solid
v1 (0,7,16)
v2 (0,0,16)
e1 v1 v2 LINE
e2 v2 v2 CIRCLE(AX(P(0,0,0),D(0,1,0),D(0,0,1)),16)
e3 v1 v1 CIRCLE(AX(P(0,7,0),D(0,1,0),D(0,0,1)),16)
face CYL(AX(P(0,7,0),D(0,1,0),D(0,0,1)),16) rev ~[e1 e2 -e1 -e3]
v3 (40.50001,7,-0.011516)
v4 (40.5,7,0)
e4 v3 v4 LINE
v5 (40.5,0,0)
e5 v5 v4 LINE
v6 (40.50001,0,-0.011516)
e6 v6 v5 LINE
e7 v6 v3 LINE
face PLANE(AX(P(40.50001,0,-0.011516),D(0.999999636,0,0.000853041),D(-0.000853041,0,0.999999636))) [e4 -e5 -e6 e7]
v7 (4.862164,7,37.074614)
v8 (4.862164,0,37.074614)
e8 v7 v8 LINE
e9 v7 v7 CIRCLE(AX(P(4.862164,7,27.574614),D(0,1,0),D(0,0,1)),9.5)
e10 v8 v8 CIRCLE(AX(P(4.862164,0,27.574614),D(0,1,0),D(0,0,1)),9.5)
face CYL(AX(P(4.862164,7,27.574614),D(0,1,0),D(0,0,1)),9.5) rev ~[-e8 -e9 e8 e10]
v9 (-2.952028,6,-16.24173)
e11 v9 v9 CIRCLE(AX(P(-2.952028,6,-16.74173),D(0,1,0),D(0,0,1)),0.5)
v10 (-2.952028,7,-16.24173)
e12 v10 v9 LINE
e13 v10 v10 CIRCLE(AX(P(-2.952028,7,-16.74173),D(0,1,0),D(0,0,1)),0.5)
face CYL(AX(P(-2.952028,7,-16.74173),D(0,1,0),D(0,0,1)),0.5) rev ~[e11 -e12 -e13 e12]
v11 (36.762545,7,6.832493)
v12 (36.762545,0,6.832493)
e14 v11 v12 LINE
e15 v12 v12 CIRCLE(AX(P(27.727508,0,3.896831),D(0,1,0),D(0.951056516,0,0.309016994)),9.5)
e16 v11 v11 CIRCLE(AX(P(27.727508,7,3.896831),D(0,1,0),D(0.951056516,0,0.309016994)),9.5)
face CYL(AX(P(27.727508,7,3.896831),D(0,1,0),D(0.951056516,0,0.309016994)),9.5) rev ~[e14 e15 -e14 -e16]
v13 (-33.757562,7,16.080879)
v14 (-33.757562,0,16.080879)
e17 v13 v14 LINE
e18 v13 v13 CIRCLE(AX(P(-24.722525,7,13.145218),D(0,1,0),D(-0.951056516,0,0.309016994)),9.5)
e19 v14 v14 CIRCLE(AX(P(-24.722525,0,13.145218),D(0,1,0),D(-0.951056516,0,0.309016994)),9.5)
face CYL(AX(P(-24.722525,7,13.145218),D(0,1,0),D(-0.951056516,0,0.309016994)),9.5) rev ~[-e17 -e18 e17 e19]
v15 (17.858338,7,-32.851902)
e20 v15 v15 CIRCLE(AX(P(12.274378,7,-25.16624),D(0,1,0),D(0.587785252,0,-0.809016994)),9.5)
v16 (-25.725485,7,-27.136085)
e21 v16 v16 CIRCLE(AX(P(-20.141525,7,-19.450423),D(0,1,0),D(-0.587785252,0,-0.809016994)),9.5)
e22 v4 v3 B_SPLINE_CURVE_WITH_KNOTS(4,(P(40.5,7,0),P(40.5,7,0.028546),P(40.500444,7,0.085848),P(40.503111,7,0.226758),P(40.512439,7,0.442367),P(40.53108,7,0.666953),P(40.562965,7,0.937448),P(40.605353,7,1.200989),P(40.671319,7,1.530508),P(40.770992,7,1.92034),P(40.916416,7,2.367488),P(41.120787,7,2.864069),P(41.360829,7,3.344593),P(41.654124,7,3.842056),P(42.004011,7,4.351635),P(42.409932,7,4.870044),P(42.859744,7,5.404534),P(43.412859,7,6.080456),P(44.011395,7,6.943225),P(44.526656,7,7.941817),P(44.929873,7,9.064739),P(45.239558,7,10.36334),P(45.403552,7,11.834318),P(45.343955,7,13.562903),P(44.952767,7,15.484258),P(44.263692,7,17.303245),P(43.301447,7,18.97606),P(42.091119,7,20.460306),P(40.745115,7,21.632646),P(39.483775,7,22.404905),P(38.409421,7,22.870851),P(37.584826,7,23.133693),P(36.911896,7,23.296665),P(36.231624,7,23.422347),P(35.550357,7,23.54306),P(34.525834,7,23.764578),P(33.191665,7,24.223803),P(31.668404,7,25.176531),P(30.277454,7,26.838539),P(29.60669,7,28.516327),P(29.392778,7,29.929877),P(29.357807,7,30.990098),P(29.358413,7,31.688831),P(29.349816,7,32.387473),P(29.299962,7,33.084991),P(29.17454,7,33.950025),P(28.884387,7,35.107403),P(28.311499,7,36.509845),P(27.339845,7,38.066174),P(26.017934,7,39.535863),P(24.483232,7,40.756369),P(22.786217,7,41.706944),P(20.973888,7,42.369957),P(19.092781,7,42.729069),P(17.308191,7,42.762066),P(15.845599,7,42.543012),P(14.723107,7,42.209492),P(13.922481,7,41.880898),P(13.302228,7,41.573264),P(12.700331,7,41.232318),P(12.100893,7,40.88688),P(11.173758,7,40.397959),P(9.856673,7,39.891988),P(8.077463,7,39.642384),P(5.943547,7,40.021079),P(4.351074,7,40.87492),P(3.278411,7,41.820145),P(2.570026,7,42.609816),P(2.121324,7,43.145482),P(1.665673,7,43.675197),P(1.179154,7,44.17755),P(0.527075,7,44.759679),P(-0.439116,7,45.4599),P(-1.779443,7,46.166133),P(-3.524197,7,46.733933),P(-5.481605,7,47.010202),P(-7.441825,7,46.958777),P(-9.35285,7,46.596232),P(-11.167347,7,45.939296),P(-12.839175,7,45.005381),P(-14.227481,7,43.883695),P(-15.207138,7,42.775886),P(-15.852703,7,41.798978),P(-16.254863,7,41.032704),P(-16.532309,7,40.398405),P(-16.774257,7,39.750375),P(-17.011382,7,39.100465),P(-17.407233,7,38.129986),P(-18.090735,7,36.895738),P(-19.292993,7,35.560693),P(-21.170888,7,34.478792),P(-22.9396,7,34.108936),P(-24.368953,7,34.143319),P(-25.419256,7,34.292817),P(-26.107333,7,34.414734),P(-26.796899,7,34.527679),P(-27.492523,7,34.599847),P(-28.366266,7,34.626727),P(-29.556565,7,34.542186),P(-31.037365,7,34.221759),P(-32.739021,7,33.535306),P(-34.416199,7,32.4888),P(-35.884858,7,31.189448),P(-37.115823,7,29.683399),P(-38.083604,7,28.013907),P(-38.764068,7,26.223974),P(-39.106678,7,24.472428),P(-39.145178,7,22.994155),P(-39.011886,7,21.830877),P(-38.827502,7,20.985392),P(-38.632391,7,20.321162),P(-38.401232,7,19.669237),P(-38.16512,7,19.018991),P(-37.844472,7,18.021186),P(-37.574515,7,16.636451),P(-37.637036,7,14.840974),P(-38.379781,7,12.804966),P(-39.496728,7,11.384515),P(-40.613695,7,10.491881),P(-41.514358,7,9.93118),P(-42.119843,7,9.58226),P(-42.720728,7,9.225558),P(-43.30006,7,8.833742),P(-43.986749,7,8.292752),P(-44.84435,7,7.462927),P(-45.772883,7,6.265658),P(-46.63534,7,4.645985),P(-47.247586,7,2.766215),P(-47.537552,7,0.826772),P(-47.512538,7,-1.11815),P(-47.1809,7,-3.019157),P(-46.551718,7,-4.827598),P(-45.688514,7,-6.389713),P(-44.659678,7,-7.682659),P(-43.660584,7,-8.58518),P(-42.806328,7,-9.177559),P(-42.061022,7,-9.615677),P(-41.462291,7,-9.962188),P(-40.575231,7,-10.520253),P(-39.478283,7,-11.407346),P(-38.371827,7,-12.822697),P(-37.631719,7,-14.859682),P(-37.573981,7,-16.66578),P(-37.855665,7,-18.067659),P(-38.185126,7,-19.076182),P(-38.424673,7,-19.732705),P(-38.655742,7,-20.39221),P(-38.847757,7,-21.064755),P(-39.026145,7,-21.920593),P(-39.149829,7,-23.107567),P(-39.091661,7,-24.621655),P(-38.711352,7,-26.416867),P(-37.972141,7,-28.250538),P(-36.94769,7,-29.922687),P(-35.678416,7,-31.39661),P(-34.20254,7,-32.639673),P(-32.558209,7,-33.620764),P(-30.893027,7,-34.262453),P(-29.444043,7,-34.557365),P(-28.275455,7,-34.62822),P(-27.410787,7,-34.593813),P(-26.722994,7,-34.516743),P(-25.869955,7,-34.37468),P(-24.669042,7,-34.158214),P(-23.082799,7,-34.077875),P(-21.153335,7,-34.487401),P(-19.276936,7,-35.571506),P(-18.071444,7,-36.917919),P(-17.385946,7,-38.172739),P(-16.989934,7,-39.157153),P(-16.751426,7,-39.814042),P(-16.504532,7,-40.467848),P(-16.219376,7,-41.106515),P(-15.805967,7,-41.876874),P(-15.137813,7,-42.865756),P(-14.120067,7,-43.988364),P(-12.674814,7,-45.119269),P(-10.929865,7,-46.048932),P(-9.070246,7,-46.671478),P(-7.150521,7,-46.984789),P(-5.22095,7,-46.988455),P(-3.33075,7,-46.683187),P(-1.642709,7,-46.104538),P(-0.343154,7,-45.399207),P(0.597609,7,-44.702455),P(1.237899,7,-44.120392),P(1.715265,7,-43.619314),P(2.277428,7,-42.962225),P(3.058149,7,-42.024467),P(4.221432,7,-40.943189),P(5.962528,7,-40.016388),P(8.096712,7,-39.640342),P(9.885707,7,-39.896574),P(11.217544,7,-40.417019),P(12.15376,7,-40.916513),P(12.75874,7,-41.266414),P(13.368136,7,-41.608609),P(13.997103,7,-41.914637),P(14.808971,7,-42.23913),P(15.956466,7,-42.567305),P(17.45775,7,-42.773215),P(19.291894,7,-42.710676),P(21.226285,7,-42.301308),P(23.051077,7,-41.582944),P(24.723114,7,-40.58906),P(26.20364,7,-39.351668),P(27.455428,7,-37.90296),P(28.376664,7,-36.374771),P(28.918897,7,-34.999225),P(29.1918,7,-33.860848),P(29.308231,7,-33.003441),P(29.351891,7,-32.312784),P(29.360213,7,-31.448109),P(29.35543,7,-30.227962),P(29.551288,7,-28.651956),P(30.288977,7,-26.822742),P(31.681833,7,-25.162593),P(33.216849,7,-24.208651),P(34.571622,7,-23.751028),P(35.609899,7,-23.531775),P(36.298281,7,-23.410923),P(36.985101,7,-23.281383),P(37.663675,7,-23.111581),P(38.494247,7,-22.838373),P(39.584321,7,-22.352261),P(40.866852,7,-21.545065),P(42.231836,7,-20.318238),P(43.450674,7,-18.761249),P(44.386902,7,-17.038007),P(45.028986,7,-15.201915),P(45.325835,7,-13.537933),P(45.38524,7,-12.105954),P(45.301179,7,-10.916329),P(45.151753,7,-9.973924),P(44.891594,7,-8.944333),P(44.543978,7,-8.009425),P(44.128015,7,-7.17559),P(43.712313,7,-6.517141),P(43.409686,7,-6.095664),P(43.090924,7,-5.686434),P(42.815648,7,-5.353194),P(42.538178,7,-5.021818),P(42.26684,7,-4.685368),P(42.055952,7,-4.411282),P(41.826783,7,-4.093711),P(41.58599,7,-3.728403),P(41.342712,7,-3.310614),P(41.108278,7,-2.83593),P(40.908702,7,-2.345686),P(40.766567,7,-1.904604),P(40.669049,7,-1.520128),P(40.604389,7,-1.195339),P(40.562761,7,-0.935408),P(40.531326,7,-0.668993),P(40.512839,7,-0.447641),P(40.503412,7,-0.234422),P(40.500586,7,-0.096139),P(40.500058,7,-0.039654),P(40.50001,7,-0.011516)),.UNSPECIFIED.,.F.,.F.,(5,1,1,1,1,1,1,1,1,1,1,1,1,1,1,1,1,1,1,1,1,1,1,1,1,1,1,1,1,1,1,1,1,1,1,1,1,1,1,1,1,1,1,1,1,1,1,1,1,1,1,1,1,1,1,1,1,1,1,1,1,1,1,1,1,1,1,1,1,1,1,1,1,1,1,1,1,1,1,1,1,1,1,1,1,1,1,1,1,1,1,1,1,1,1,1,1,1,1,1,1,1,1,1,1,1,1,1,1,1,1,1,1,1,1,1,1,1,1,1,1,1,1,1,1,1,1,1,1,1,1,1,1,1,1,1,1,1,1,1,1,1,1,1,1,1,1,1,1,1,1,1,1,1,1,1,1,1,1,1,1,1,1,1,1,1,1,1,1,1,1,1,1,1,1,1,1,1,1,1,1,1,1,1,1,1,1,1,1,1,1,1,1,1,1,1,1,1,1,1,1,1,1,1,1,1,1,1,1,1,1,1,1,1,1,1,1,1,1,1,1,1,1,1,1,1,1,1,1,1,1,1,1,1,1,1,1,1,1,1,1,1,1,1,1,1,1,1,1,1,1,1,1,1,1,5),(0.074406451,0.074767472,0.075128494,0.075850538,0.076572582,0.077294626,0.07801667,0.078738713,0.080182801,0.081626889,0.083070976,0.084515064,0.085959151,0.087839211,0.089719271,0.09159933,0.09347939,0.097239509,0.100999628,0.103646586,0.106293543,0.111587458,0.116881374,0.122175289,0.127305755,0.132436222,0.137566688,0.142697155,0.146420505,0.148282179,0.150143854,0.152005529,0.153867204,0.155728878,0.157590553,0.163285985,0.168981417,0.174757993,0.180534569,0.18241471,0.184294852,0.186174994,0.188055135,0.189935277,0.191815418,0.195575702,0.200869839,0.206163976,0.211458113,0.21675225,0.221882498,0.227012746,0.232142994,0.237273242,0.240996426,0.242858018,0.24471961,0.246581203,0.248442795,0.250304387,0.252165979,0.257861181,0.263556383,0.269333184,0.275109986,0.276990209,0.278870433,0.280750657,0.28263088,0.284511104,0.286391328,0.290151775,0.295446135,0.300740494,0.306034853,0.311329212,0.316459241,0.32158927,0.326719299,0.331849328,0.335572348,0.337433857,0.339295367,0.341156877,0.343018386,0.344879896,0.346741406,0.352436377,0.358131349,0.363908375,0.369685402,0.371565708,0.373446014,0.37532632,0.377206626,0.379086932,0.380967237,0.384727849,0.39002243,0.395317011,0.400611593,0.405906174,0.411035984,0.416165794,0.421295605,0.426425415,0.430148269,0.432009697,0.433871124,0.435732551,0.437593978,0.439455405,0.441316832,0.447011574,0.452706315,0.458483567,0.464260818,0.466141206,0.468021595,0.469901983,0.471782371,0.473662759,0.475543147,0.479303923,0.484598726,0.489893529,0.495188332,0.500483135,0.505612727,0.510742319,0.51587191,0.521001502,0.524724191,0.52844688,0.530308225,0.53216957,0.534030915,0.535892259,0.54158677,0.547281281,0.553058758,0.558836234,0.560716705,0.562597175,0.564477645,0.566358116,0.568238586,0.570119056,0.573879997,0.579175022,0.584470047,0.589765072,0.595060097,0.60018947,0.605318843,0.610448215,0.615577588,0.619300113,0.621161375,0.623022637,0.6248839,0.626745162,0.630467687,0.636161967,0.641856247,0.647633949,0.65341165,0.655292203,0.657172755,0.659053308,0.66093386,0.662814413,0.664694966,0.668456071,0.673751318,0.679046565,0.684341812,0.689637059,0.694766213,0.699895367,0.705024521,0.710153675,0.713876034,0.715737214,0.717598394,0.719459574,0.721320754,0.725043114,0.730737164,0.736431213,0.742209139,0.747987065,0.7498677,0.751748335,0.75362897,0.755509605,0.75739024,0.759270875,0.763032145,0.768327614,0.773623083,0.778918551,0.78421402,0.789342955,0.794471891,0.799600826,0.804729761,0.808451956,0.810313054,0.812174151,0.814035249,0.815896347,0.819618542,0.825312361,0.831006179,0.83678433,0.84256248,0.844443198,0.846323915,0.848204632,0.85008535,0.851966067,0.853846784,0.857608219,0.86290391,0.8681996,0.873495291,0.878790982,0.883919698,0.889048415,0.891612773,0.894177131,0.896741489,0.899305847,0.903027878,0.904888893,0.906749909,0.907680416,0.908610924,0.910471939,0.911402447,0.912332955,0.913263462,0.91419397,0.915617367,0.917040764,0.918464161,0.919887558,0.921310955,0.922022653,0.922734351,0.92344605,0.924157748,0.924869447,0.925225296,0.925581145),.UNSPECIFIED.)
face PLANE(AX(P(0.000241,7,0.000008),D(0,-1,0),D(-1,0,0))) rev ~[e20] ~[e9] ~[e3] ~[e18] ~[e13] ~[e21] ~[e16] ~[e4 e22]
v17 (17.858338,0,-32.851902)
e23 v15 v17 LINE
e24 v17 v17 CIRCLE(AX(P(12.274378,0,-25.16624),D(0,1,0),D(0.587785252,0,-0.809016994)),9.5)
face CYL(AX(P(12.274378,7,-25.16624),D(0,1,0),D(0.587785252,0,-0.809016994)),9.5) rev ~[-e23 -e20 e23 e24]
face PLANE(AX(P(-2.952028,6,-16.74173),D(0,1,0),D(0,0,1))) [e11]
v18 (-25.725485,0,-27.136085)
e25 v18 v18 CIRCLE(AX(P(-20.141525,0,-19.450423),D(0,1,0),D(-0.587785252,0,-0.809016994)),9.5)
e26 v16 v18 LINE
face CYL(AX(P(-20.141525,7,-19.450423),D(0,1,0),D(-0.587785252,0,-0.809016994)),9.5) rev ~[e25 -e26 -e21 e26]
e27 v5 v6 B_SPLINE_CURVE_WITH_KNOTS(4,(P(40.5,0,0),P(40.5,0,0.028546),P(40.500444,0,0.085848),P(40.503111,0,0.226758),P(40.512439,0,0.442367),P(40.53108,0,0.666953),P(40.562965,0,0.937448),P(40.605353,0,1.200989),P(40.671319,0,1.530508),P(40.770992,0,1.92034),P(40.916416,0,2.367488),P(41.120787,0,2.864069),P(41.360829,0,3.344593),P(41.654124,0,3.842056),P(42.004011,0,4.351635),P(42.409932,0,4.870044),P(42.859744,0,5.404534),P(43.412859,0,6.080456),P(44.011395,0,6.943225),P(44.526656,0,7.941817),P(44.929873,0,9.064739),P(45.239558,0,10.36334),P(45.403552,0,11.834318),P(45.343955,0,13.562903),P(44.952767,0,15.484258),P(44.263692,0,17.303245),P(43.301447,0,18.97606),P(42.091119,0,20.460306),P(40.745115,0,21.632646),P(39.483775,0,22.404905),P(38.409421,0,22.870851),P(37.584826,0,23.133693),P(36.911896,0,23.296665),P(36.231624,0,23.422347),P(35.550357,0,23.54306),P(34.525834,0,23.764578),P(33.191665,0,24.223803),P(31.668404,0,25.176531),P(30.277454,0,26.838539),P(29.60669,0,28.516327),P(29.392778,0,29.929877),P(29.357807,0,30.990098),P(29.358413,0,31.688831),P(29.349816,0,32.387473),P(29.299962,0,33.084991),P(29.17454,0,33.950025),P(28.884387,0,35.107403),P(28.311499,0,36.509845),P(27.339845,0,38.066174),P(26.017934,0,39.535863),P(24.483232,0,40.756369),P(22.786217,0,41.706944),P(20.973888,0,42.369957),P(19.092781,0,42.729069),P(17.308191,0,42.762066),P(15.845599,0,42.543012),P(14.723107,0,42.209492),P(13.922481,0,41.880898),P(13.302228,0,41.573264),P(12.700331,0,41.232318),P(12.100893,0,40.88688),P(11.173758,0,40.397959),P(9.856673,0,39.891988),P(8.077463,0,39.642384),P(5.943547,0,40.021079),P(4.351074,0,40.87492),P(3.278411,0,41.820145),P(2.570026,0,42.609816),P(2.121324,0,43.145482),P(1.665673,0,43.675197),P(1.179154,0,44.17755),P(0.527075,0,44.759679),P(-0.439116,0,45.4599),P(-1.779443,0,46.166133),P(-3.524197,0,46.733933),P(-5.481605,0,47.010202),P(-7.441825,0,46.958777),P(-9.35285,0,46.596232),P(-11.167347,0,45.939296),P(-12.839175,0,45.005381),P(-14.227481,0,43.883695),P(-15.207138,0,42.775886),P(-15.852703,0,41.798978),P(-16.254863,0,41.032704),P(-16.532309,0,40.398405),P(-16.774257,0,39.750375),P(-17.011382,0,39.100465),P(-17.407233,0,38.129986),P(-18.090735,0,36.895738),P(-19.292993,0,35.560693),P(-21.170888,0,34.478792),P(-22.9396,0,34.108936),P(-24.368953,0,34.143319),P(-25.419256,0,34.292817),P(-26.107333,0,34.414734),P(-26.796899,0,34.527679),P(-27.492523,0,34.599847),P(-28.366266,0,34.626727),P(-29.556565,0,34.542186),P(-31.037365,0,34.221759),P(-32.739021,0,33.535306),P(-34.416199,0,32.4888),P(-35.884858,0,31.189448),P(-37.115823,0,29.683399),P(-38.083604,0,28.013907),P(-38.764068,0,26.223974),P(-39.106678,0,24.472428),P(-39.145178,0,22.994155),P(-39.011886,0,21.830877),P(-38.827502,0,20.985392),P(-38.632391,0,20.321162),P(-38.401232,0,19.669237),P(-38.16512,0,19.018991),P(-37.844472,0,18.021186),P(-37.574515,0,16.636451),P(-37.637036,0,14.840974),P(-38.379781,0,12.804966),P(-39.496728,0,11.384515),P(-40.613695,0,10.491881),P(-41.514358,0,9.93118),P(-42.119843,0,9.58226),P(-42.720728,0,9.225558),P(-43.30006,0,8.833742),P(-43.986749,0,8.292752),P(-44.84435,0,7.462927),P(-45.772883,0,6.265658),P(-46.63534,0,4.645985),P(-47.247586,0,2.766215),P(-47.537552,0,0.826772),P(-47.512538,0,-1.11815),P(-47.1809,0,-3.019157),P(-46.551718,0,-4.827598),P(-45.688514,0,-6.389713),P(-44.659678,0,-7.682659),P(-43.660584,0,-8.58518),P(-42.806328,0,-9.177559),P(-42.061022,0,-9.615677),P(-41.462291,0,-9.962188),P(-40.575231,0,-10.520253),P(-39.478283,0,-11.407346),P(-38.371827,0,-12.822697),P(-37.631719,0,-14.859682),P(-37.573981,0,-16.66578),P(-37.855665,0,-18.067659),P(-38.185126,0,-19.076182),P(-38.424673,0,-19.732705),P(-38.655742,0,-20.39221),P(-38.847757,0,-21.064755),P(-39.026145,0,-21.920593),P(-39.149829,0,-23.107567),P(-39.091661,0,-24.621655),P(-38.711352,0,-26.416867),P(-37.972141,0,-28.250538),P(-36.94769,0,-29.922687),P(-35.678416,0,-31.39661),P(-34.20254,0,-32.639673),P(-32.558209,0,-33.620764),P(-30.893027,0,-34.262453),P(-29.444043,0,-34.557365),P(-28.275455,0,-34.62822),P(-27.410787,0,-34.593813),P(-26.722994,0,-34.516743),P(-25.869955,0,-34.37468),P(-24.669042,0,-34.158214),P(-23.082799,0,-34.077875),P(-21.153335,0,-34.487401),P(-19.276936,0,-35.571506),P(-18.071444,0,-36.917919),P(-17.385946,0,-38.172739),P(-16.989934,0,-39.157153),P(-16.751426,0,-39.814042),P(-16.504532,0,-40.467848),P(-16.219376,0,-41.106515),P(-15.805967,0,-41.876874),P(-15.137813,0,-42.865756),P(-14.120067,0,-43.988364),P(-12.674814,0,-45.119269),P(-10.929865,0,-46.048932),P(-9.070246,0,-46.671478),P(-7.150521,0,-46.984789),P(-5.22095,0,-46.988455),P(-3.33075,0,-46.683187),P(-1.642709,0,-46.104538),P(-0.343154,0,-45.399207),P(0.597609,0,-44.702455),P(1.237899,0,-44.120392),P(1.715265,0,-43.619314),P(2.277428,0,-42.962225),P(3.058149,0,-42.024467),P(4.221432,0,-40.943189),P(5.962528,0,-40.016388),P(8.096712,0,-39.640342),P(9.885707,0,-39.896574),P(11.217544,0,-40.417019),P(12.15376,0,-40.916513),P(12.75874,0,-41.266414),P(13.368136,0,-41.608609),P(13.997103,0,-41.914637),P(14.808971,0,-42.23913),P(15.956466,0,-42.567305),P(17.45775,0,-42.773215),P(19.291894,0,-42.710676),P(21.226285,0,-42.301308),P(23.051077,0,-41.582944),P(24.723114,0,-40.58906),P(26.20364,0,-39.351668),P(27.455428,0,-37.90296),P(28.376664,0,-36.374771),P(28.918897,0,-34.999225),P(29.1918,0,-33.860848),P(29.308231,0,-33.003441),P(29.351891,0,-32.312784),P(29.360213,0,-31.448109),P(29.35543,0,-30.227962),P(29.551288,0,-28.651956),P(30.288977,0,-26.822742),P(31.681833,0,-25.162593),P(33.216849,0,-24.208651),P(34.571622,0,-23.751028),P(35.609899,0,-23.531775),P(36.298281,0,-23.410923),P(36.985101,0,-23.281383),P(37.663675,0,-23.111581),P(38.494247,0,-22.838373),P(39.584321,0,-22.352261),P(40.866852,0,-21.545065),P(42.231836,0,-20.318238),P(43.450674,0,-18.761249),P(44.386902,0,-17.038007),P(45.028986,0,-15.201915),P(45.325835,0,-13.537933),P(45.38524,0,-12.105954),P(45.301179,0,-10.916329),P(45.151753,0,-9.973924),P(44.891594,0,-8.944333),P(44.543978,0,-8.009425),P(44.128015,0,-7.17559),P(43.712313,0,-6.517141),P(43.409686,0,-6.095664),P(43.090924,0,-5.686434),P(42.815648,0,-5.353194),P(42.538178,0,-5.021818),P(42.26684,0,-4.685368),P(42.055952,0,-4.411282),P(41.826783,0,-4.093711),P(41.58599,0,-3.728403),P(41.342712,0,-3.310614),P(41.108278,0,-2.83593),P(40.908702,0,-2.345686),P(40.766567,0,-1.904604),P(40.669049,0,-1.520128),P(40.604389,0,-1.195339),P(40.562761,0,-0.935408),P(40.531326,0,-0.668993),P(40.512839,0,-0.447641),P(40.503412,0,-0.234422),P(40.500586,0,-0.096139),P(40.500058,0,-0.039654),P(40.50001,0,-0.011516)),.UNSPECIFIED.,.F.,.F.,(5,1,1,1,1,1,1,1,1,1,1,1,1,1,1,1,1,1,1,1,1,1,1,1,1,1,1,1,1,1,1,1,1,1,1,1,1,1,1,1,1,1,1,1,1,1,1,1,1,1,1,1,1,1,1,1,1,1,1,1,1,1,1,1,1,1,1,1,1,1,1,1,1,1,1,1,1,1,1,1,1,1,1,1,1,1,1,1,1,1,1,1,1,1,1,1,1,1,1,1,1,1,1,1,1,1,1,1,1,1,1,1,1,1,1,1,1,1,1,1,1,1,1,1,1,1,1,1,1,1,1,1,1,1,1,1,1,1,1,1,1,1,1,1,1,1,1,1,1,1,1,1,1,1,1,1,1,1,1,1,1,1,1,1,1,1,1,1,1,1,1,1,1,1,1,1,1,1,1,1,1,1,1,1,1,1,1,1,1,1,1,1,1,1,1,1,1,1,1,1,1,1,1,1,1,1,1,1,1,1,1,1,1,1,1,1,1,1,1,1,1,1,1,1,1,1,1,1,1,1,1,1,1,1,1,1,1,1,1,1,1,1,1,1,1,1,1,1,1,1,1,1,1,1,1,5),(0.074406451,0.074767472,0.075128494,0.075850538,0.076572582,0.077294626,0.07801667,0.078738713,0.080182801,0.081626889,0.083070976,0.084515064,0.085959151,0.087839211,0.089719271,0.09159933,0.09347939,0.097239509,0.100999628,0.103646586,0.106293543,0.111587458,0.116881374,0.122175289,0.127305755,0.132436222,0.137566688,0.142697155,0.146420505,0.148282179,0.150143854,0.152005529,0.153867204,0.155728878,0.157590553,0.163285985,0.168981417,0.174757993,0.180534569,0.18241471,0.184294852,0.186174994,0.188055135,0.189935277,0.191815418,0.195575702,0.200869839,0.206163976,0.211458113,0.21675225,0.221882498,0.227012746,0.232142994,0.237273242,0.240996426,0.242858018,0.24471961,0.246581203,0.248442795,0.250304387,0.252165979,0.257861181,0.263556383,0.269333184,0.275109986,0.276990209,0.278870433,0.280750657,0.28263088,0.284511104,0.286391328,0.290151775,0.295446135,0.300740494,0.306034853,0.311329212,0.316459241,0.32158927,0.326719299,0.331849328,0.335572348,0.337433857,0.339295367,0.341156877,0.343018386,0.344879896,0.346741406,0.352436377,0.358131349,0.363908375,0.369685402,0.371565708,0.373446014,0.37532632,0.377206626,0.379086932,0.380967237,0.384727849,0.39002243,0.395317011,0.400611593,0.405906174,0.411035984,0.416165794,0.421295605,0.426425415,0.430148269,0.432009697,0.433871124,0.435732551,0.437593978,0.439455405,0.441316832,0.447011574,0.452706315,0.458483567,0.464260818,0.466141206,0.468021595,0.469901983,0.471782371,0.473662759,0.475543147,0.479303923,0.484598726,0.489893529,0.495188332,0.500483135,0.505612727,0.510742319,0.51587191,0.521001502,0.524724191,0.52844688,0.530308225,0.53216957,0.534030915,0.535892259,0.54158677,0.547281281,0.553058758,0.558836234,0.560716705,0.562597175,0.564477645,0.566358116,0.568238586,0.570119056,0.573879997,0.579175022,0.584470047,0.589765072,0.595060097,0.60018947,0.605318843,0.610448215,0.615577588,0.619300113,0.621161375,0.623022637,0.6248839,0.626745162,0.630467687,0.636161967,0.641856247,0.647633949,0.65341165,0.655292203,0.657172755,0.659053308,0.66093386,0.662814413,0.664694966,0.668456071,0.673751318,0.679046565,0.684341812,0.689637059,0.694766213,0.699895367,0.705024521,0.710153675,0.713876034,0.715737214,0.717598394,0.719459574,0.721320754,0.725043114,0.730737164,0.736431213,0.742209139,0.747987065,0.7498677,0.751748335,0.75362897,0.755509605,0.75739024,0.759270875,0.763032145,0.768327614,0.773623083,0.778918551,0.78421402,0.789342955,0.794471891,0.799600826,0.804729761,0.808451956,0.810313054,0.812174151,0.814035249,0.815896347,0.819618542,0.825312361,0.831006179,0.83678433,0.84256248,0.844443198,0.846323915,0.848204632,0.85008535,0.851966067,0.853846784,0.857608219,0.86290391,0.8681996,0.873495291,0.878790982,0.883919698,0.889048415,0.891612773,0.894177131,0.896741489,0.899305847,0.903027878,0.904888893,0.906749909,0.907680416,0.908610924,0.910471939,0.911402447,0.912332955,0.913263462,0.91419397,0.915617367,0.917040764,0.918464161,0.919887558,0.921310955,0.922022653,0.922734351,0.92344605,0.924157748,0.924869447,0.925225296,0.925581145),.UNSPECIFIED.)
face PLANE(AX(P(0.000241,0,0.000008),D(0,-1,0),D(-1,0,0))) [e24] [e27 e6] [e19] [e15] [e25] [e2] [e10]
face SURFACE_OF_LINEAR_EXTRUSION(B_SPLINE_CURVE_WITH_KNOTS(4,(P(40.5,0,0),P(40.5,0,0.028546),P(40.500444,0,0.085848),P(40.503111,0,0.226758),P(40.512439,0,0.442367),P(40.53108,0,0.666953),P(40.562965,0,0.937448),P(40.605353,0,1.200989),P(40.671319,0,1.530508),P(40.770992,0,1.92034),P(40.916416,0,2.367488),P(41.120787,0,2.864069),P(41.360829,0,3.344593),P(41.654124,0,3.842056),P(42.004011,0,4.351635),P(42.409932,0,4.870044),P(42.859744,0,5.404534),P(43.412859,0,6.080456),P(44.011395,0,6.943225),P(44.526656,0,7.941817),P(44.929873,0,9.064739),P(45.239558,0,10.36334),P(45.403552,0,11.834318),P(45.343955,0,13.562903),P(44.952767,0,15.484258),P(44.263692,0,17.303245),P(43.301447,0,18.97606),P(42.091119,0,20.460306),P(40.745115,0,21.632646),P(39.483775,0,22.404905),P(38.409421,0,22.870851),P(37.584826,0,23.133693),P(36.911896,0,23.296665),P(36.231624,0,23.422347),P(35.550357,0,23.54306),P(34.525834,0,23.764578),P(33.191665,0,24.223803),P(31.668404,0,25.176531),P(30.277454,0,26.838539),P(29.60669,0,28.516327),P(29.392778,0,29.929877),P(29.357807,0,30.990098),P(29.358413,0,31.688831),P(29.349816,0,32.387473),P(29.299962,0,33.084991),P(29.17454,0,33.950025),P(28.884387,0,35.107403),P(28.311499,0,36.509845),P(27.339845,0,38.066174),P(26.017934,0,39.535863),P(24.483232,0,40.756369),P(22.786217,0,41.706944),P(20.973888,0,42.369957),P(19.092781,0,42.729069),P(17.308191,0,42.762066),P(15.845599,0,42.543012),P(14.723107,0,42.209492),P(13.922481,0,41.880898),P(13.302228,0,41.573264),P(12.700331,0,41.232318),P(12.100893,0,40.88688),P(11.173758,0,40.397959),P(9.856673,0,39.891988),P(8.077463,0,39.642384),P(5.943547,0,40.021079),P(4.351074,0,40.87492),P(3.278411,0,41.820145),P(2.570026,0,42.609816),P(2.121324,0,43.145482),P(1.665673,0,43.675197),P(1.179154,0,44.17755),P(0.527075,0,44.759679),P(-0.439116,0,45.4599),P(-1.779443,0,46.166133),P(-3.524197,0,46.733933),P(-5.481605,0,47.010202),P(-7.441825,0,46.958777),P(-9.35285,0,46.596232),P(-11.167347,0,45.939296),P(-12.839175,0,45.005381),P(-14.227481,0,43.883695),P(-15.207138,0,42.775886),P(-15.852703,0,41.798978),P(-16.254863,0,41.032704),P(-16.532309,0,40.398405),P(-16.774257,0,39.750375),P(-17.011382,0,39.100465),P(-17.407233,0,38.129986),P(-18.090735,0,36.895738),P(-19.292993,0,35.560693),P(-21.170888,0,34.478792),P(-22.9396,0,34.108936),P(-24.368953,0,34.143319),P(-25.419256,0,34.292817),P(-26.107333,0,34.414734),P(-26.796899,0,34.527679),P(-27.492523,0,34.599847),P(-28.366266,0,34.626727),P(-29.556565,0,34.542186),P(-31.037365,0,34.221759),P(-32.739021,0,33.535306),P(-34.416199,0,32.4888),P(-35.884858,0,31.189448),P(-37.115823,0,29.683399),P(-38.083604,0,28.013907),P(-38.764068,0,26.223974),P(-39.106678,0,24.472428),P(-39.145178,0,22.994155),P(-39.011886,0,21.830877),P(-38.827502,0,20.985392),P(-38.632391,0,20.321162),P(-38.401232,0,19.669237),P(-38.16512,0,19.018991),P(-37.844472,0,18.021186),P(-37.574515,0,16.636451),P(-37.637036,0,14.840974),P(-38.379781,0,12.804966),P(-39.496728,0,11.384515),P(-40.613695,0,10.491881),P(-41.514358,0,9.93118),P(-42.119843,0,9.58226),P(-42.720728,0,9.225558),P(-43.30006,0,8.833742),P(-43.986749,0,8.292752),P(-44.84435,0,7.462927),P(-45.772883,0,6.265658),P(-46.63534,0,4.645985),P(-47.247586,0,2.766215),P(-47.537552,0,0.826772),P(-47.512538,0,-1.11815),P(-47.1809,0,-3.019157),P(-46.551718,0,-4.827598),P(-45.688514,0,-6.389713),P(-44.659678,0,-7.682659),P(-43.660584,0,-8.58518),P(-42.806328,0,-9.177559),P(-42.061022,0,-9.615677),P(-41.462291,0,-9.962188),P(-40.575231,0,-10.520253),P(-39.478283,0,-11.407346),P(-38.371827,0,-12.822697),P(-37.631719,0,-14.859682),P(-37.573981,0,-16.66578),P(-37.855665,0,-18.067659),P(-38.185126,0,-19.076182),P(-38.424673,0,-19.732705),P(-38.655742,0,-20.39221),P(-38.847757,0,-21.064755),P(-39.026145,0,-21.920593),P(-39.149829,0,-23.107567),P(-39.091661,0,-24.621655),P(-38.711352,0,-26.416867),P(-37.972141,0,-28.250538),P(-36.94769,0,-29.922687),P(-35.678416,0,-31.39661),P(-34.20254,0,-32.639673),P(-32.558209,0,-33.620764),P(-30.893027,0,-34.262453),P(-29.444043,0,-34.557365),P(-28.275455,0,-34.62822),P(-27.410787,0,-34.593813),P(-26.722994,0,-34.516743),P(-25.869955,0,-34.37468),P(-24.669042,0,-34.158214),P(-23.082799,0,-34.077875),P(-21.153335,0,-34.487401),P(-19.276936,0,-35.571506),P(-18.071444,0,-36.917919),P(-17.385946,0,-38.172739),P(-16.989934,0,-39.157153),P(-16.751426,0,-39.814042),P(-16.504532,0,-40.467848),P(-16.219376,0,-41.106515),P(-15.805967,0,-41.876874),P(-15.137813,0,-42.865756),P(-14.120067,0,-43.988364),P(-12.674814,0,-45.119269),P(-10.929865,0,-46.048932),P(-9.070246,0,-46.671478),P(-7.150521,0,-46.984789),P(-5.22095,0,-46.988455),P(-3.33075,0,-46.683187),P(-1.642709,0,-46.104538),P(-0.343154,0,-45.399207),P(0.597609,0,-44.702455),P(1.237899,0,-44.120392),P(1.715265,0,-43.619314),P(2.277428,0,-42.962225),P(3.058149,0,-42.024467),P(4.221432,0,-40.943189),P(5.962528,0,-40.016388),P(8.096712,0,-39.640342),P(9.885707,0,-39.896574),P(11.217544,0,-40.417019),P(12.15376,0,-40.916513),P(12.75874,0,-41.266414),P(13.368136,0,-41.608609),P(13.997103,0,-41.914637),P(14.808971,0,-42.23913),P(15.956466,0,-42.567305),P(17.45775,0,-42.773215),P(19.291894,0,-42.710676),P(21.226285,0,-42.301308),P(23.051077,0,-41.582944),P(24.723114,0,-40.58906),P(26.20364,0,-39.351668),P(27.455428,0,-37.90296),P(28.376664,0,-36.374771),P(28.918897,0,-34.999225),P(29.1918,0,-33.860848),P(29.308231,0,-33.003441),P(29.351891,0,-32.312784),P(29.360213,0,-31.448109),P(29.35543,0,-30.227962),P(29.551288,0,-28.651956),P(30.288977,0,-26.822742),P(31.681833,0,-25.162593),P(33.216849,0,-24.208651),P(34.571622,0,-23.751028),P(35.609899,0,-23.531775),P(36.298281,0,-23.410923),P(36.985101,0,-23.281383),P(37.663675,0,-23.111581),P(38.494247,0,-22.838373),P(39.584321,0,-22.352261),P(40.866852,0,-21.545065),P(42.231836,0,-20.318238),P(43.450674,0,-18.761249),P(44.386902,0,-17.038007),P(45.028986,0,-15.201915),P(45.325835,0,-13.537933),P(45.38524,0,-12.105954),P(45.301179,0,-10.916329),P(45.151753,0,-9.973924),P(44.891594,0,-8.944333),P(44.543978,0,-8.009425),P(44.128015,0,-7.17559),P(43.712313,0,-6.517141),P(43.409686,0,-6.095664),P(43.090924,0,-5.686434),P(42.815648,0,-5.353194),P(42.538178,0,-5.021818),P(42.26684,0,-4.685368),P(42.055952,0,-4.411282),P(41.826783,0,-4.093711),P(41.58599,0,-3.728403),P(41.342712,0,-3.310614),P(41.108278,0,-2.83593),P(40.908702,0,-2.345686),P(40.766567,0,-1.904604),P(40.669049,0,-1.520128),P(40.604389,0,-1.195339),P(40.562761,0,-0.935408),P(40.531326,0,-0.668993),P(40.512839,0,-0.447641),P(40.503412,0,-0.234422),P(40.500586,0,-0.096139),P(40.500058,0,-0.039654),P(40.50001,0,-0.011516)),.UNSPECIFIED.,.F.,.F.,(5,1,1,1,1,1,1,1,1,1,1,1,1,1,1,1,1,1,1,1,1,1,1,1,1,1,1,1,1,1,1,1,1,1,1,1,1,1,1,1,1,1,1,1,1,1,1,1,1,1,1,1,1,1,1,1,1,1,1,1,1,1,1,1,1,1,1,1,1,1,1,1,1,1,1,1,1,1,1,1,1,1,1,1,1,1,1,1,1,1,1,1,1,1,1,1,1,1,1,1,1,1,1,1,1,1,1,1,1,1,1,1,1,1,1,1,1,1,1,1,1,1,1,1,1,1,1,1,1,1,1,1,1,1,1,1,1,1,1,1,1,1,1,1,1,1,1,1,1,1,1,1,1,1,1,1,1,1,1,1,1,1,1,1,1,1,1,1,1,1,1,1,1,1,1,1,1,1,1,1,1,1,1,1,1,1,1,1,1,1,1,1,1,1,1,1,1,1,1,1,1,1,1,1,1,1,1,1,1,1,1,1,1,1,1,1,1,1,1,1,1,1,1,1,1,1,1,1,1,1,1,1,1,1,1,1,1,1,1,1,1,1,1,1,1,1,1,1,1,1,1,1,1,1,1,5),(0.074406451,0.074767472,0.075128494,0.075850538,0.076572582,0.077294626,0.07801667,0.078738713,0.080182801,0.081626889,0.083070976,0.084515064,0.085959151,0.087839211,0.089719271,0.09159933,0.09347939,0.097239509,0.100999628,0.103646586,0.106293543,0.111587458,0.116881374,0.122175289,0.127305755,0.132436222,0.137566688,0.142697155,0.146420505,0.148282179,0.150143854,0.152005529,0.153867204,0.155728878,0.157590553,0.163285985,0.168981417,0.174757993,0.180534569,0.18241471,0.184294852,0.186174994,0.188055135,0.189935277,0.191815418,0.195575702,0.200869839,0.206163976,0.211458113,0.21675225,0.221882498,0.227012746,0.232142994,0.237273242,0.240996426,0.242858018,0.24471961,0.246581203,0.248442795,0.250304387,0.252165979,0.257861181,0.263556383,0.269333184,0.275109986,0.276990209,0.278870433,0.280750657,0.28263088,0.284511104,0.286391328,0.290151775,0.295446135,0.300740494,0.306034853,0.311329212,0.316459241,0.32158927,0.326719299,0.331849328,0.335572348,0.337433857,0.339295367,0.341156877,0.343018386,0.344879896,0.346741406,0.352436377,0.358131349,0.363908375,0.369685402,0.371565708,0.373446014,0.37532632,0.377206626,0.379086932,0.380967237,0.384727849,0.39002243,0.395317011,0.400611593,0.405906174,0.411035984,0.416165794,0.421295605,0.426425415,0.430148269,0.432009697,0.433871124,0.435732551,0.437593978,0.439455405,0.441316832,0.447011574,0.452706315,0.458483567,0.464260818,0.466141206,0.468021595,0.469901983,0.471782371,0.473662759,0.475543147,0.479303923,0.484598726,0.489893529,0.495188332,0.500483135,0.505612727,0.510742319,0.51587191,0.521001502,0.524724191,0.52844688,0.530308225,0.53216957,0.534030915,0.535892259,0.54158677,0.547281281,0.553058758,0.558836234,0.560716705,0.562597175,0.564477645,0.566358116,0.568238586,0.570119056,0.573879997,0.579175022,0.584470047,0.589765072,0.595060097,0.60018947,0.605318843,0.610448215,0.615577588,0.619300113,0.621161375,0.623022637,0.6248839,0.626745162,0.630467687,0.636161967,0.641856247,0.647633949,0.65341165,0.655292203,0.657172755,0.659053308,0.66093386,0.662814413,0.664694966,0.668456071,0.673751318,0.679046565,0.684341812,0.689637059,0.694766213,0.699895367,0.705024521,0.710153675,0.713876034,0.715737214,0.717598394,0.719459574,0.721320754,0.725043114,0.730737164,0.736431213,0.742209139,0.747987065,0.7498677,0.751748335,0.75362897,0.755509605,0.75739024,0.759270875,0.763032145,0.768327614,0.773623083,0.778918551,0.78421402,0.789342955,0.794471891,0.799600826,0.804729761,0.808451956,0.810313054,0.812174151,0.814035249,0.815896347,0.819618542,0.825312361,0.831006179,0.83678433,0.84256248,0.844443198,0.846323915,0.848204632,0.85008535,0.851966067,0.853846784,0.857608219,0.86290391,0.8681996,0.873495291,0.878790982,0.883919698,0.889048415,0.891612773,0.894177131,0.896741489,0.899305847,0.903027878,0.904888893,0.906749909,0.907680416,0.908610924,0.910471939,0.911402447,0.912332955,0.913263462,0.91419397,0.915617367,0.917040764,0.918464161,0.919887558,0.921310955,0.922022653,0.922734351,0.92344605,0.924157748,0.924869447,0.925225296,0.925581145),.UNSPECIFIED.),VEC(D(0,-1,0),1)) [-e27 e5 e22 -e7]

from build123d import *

# Parameters (mm, degrees)
BOSS_EXTRUDE3_DEPTH = 7
SKETCH2_R           = 16
CUT_EXTRUDE1_DEPTH  = 68.161043744
SKETCH3_R           = 0.5
CUT_EXTRUDE2_DEPTH  = 1
SKETCH4_R           = 9.5
CUT_EXTRUDE4_DEPTH  = 68.161043744
CIRPATTERN2_COUNT   = 5


with BuildPart() as part:
    # Sketch1 → Boss-Extrude3 (new body)
    with BuildSketch(Plane(origin=(0, 0, 0), x_dir=(1, 0, 0), z_dir=(0, 1, 0))):
        with BuildLine():
            add(Edge.make_bspline(
                [(40.5, 0), (40.5, -0.028546262), (40.500444384, -0.085847505), (40.503110675, -0.226757994), (40.512439134, -0.442367355), (40.531079589, -0.666953273), (40.562964523, -0.93744797), (40.605352949, -1.20098898), (40.671319498, -1.530508494), (40.770992467, -1.920340014), (40.916415736, -2.367488249), (41.120787297, -2.86406858), (41.360828638, -3.344593408), (41.654124201, -3.842056085), (42.004011353, -4.351634881), (42.409931661, -4.87004421), (42.859744386, -5.404533646), (43.412858525, -6.080456207), (44.011394999, -6.943224647), (44.526656093, -7.941817117), (44.929873097, -9.064739057), (45.239557641, -10.363340474), (45.403552015, -11.834318039), (45.343955448, -13.562903017), (44.952767157, -15.484258179), (44.263691832, -17.30324519), (43.301446593, -18.976060486), (42.091119135, -20.460306087), (40.745114847, -21.632645784), (39.4837748, -22.404905161), (38.409421356, -22.87085064), (37.58482604, -23.133693034), (36.911896387, -23.296665171), (36.231624071, -23.422347011), (35.550357106, -23.543060285), (34.525833701, -23.764578493), (33.191664696, -24.223802594), (31.668403783, -25.17653147), (30.277453911, -26.838539011), (29.606690168, -28.516326966), (29.392777642, -29.929876757), (29.357806824, -30.990097872), (29.358413065, -31.688831297), (29.349816232, -32.38747332), (29.299961965, -33.084991258), (29.174540456, -33.950025236), (28.884387048, -35.107402938), (28.311499455, -36.509844746), (27.339845304, -38.066173972), (26.017933712, -39.535863134), (24.483232188, -40.756368749), (22.786217155, -41.706943572), (20.973888334, -42.369957392), (19.092781226, -42.729068837), (17.308191097, -42.762066376), (15.845599211, -42.543012056), (14.723107044, -42.209492119), (13.922481374, -41.880898383), (13.302227917, -41.573264045), (12.700331173, -41.232317813), (12.100892811, -40.886879519), (11.173757722, -40.397959474), (9.856673355, -39.891987769), (8.077462722, -39.642383823), (5.943546794, -40.021078588), (4.35107352, -40.874919681), (3.278410562, -41.82014524), (2.570026037, -42.609815625), (2.121324054, -43.14548158), (1.665672599, -43.675196771), (1.17915445, -44.177550209), (0.527074936, -44.759678615), (-0.439116024, -45.459900339), (-1.779443431, -46.16613343), (-3.524197134, -46.733933196), (-5.481604637, -47.01020213), (-7.441825317, -46.958776742), (-9.352850307, -46.596232476), (-11.167346953, -45.939296019), (-12.839175378, -45.005380711), (-14.227481209, -43.883694812), (-15.207137934, -42.775886443), (-15.8527027, -41.798978164), (-16.254862767, -41.032703987), (-16.532309197, -40.398405281), (-16.774256512, -39.750374585), (-17.011382172, -39.100464804), (-17.407232747, -38.129986286), (-18.090734887, -36.895738292), (-19.292992813, -35.560693356), (-21.170888335, -34.478791677), (-22.939600319, -34.108936434), (-24.368953497, -34.143319399), (-25.419255652, -34.292817002), (-26.107333056, -34.414733809), (-26.796899433, -34.527678603), (-27.492523445, -34.599847189), (-28.366265702, -34.626726892), (-29.556564689, -34.542186472), (-31.037364726, -34.221759337), (-32.739020732, -33.535305745), (-34.416198682, -32.488799683), (-35.884858276, -31.18944768), (-37.115823469, -29.683399253), (-38.083603628, -28.013906623), (-38.764068432, -26.223973991), (-39.106677701, -24.472428153), (-39.145177857, -22.994155066), (-39.011885669, -21.830876801), (-38.827502006, -20.985391696), (-38.632390711, -20.321161986), (-38.401231573, -19.669237126), (-38.16512026, -19.018990926), (-37.844472406, -18.021185774), (-37.574515437, -16.63645071), (-37.637035998, -14.840974018), (-38.379780688, -12.804965911), (-39.496728402, -11.38451469), (-40.613694939, -10.491881423), (-41.514358285, -9.93118044), (-42.119843128, -9.582259903), (-42.720728116, -9.225557564), (-43.300060014, -8.833742323), (-43.986749018, -8.292751926), (-44.844349958, -7.462927163), (-45.772882603, -6.265657891), (-46.635339888, -4.645985087), (-47.247585718, -2.766214576), (-47.53755206, -0.826771723), (-47.512538074, 1.118150057), (-47.180899933, 3.019157212), (-46.551717848, 4.82759835), (-45.688513543, 6.389712558), (-44.659677617, 7.682658763), (-43.660583675, 8.585180175), (-42.80632761, 9.177558511), (-42.061022055, 9.615676605), (-41.462290621, 9.962188423), (-40.575230987, 10.520252942), (-39.478283352, 11.407345976), (-38.371827395, 12.822697306), (-37.631719247, 14.859682224), (-37.573981258, 16.66577966), (-37.855665099, 18.067658738), (-38.185125935, 19.076182338), (-38.424672753, 19.732705207), (-38.655741816, 20.392209654), (-38.84775704, 21.064754755), (-39.026145406, 21.920593216), (-39.149828944, 23.107566863), (-39.09166123, 24.621654983), (-38.711352212, 26.416866751), (-37.972140765, 28.250537991), (-36.947690329, 29.922687192), (-35.678415605, 31.396609852), (-34.202539584, 32.639673184), (-32.558208903, 33.620763916), (-30.893027292, 34.262453372), (-29.444043299, 34.557364541), (-28.275455034, 34.628220061), (-27.410787202, 34.59381281), (-26.72299369, 34.51674286), (-25.869954657, 34.37468004), (-24.669041681, 34.158214449), (-23.08279894, 34.077875033), (-21.153335322, 34.487400981), (-19.276935597, 35.57150577), (-18.071444448, 36.917919199), (-17.385945872, 38.172738501), (-16.989933536, 39.157152765), (-16.751426332, 39.814042019), (-16.504532297, 40.467847806), (-16.219376456, 41.106515426), (-15.805967264, 41.876873687), (-15.137812701, 42.865756434), (-14.120067415, 43.988363872), (-12.674813604, 45.119268791), (-10.929865296, 46.048932451), (-9.07024603, 46.671478061), (-7.150520531, 46.984788652), (-5.22094989, 46.988455169), (-3.330749558, 46.683186857), (-1.642708761, 46.104538007), (-0.343153942, 45.399206832), (0.597608896, 44.702454803), (1.237898732, 44.120391681), (1.715264854, 43.619314217), (2.277428439, 42.962224797), (3.05814935, 42.024466828), (4.221431586, 40.943188501), (5.962527814, 40.016387543), (8.096711616, 39.640341864), (9.8857068, 39.896574295), (11.217544346, 40.417019048), (12.153760139, 40.916512679), (12.758740403, 41.266413668), (13.368136186, 41.608608887), (13.997103, 41.914636892), (14.808971415, 42.239129975), (15.956466314, 42.567304505), (17.457750275, 42.77321507), (19.291893972, 42.710676226), (21.226285158, 42.301308336), (23.051077454, 41.582944449), (24.72311385, 40.58906004), (26.203639767, 39.351667841), (27.455428384, 37.902959871), (28.376663871, 36.374770576), (28.918896787, 34.999224905), (29.191799656, 33.860848331), (29.308231189, 33.003441465), (29.35189076, 32.312783633), (29.360213444, 31.448109042), (29.355429648, 30.227962288), (29.55128759, 28.651955964), (30.288977261, 26.822741751), (31.681833263, 25.162592811), (33.216849137, 24.208650605), (34.571622102, 23.751028062), (35.609898879, 23.531775073), (36.298280537, 23.410922873), (36.985100939, 23.281383187), (37.663674553, 23.111581309), (38.494246664, 22.838372965), (39.584321034, 22.352260536), (40.866852273, 21.545065261), (42.231836487, 20.318237829), (43.450673844, 18.761249102), (44.386902236, 17.038007017), (45.028986087, 15.201914615), (45.325834952, 13.537932906), (45.38524027, 12.105954443), (45.301179192, 10.916329332), (45.151752518, 9.973924387), (44.891593523, 8.9443326), (44.543978069, 8.009424638), (44.128014858, 7.175589871), (43.712312671, 6.517140841), (43.409686217, 6.095664039), (43.090923809, 5.686434175), (42.815647705, 5.353194457), (42.538178372, 5.021818387), (42.266840334, 4.685368008), (42.055952198, 4.411281643), (41.826782884, 4.093710697), (41.585989593, 3.728402516), (41.342712158, 3.310613657), (41.108278103, 2.835929575), (40.908702201, 2.34568584), (40.766567017, 1.904604137), (40.669049377, 1.520127878), (40.604388983, 1.195338878), (40.562761071, 0.935408444), (40.531326441, 0.668993371), (40.512839165, 0.447641437), (40.503412283, 0.23442177), (40.500585942, 0.096138553), (40.50005783, 0.039653659), (40.500009824, 0.011516445)],
                knots=[0.074406451, 0.074406451, 0.074406451, 0.074406451, 0.074406451, 0.074767472, 0.075128494, 0.075850538, 0.076572582, 0.077294626, 0.07801667, 0.078738713, 0.080182801, 0.081626889, 0.083070976, 0.084515064, 0.085959151, 0.087839211, 0.089719271, 0.09159933, 0.09347939, 0.097239509, 0.100999628, 0.103646586, 0.106293543, 0.111587458, 0.116881374, 0.122175289, 0.127305755, 0.132436222, 0.137566688, 0.142697155, 0.146420505, 0.148282179, 0.150143854, 0.152005529, 0.153867204, 0.155728878, 0.157590553, 0.163285985, 0.168981417, 0.174757993, 0.180534569, 0.18241471, 0.184294852, 0.186174994, 0.188055135, 0.189935277, 0.191815418, 0.195575702, 0.200869839, 0.206163976, 0.211458113, 0.21675225, 0.221882498, 0.227012746, 0.232142994, 0.237273242, 0.240996426, 0.242858018, 0.24471961, 0.246581203, 0.248442795, 0.250304387, 0.252165979, 0.257861181, 0.263556383, 0.269333184, 0.275109986, 0.276990209, 0.278870433, 0.280750657, 0.28263088, 0.284511104, 0.286391328, 0.290151775, 0.295446135, 0.300740494, 0.306034853, 0.311329212, 0.316459241, 0.32158927, 0.326719299, 0.331849328, 0.335572348, 0.337433857, 0.339295367, 0.341156877, 0.343018386, 0.344879896, 0.346741406, 0.352436377, 0.358131349, 0.363908375, 0.369685402, 0.371565708, 0.373446014, 0.37532632, 0.377206626, 0.379086932, 0.380967237, 0.384727849, 0.39002243, 0.395317011, 0.400611593, 0.405906174, 0.411035984, 0.416165794, 0.421295605, 0.426425415, 0.430148269, 0.432009697, 0.433871124, 0.435732551, 0.437593978, 0.439455405, 0.441316832, 0.447011574, 0.452706315, 0.458483567, 0.464260818, 0.466141206, 0.468021595, 0.469901983, 0.471782371, 0.473662759, 0.475543147, 0.479303923, 0.484598726, 0.489893529, 0.495188332, 0.500483135, 0.505612727, 0.510742319, 0.51587191, 0.521001502, 0.524724191, 0.52844688, 0.530308225, 0.53216957, 0.534030915, 0.535892259, 0.54158677, 0.547281281, 0.553058758, 0.558836234, 0.560716705, 0.562597175, 0.564477645, 0.566358116, 0.568238586, 0.570119056, 0.573879997, 0.579175022, 0.584470047, 0.589765072, 0.595060097, 0.60018947, 0.605318843, 0.610448215, 0.615577588, 0.619300113, 0.621161375, 0.623022637, 0.6248839, 0.626745162, 0.630467687, 0.636161967, 0.641856247, 0.647633949, 0.65341165, 0.655292203, 0.657172755, 0.659053308, 0.66093386, 0.662814413, 0.664694966, 0.668456071, 0.673751318, 0.679046565, 0.684341812, 0.689637059, 0.694766213, 0.699895367, 0.705024521, 0.710153675, 0.713876034, 0.715737214, 0.717598394, 0.719459574, 0.721320754, 0.725043114, 0.730737164, 0.736431213, 0.742209139, 0.747987065, 0.7498677, 0.751748335, 0.75362897, 0.755509605, 0.75739024, 0.759270875, 0.763032145, 0.768327614, 0.773623083, 0.778918551, 0.78421402, 0.789342955, 0.794471891, 0.799600826, 0.804729761, 0.808451956, 0.810313054, 0.812174151, 0.814035249, 0.815896347, 0.819618542, 0.825312361, 0.831006179, 0.83678433, 0.84256248, 0.844443198, 0.846323915, 0.848204632, 0.85008535, 0.851966067, 0.853846784, 0.857608219, 0.86290391, 0.8681996, 0.873495291, 0.878790982, 0.883919698, 0.889048415, 0.891612773, 0.894177131, 0.896741489, 0.899305847, 0.903027878, 0.904888893, 0.906749909, 0.907680416, 0.908610924, 0.910471939, 0.911402447, 0.912332955, 0.913263462, 0.91419397, 0.915617367, 0.917040764, 0.918464161, 0.919887558, 0.921310955, 0.922022653, 0.922734351, 0.92344605, 0.924157748, 0.924869447, 0.925225296, 0.925581145, 0.925581145, 0.925581145, 0.925581145, 0.925581145], degree=4))
            Line((40.500009824, 0.011516445), (40.5, 0))
        make_face()
    extrude(amount=BOSS_EXTRUDE3_DEPTH)

    # Sketch2 → Cut-Extrude1 (cut, through all)
    with BuildSketch(Plane(origin=(0, 7, 0), x_dir=(1, 0, 0), z_dir=(0, 1, 0))):
        with Locations(Location((0, 0, 0), (0, 0, 270))):
            Circle(SKETCH2_R)
    extrude(amount=-CUT_EXTRUDE1_DEPTH, mode=Mode.SUBTRACT)

    # Sketch3 → Cut-Extrude2 (cut)
    with BuildSketch(Plane(origin=(0, 7, 0), x_dir=(1, 0, 0), z_dir=(0, 1, 0))):
        with Locations(Location((-2.952028405, 16.741730146, 0), (0, 0, 270))):
            Circle(SKETCH3_R)
    extrude(amount=-CUT_EXTRUDE2_DEPTH, mode=Mode.SUBTRACT)

    # Sketch4 → Cut-Extrude4 (cut, through all)
    with BuildSketch(Plane(origin=(0, 7, 0), x_dir=(1, 0, 0), z_dir=(0, 1, 0))):
        with Locations(Location((4.862164432, -27.574614359, 0), (0, 0, 270))):
            Circle(SKETCH4_R)
    cut_extrude4 = extrude(amount=-CUT_EXTRUDE4_DEPTH, mode=Mode.SUBTRACT)

    # CirPattern2: Cut-Extrude4 ×5 about axis
    cirpattern2_axis = Axis((0, 0, 0), (0, 1, 0))
    for i in range(1, CIRPATTERN2_COUNT):
        add(cut_extrude4.rotate(cirpattern2_axis, i * 360 / CIRPATTERN2_COUNT), mode=Mode.SUBTRACT)


solid = part.part
